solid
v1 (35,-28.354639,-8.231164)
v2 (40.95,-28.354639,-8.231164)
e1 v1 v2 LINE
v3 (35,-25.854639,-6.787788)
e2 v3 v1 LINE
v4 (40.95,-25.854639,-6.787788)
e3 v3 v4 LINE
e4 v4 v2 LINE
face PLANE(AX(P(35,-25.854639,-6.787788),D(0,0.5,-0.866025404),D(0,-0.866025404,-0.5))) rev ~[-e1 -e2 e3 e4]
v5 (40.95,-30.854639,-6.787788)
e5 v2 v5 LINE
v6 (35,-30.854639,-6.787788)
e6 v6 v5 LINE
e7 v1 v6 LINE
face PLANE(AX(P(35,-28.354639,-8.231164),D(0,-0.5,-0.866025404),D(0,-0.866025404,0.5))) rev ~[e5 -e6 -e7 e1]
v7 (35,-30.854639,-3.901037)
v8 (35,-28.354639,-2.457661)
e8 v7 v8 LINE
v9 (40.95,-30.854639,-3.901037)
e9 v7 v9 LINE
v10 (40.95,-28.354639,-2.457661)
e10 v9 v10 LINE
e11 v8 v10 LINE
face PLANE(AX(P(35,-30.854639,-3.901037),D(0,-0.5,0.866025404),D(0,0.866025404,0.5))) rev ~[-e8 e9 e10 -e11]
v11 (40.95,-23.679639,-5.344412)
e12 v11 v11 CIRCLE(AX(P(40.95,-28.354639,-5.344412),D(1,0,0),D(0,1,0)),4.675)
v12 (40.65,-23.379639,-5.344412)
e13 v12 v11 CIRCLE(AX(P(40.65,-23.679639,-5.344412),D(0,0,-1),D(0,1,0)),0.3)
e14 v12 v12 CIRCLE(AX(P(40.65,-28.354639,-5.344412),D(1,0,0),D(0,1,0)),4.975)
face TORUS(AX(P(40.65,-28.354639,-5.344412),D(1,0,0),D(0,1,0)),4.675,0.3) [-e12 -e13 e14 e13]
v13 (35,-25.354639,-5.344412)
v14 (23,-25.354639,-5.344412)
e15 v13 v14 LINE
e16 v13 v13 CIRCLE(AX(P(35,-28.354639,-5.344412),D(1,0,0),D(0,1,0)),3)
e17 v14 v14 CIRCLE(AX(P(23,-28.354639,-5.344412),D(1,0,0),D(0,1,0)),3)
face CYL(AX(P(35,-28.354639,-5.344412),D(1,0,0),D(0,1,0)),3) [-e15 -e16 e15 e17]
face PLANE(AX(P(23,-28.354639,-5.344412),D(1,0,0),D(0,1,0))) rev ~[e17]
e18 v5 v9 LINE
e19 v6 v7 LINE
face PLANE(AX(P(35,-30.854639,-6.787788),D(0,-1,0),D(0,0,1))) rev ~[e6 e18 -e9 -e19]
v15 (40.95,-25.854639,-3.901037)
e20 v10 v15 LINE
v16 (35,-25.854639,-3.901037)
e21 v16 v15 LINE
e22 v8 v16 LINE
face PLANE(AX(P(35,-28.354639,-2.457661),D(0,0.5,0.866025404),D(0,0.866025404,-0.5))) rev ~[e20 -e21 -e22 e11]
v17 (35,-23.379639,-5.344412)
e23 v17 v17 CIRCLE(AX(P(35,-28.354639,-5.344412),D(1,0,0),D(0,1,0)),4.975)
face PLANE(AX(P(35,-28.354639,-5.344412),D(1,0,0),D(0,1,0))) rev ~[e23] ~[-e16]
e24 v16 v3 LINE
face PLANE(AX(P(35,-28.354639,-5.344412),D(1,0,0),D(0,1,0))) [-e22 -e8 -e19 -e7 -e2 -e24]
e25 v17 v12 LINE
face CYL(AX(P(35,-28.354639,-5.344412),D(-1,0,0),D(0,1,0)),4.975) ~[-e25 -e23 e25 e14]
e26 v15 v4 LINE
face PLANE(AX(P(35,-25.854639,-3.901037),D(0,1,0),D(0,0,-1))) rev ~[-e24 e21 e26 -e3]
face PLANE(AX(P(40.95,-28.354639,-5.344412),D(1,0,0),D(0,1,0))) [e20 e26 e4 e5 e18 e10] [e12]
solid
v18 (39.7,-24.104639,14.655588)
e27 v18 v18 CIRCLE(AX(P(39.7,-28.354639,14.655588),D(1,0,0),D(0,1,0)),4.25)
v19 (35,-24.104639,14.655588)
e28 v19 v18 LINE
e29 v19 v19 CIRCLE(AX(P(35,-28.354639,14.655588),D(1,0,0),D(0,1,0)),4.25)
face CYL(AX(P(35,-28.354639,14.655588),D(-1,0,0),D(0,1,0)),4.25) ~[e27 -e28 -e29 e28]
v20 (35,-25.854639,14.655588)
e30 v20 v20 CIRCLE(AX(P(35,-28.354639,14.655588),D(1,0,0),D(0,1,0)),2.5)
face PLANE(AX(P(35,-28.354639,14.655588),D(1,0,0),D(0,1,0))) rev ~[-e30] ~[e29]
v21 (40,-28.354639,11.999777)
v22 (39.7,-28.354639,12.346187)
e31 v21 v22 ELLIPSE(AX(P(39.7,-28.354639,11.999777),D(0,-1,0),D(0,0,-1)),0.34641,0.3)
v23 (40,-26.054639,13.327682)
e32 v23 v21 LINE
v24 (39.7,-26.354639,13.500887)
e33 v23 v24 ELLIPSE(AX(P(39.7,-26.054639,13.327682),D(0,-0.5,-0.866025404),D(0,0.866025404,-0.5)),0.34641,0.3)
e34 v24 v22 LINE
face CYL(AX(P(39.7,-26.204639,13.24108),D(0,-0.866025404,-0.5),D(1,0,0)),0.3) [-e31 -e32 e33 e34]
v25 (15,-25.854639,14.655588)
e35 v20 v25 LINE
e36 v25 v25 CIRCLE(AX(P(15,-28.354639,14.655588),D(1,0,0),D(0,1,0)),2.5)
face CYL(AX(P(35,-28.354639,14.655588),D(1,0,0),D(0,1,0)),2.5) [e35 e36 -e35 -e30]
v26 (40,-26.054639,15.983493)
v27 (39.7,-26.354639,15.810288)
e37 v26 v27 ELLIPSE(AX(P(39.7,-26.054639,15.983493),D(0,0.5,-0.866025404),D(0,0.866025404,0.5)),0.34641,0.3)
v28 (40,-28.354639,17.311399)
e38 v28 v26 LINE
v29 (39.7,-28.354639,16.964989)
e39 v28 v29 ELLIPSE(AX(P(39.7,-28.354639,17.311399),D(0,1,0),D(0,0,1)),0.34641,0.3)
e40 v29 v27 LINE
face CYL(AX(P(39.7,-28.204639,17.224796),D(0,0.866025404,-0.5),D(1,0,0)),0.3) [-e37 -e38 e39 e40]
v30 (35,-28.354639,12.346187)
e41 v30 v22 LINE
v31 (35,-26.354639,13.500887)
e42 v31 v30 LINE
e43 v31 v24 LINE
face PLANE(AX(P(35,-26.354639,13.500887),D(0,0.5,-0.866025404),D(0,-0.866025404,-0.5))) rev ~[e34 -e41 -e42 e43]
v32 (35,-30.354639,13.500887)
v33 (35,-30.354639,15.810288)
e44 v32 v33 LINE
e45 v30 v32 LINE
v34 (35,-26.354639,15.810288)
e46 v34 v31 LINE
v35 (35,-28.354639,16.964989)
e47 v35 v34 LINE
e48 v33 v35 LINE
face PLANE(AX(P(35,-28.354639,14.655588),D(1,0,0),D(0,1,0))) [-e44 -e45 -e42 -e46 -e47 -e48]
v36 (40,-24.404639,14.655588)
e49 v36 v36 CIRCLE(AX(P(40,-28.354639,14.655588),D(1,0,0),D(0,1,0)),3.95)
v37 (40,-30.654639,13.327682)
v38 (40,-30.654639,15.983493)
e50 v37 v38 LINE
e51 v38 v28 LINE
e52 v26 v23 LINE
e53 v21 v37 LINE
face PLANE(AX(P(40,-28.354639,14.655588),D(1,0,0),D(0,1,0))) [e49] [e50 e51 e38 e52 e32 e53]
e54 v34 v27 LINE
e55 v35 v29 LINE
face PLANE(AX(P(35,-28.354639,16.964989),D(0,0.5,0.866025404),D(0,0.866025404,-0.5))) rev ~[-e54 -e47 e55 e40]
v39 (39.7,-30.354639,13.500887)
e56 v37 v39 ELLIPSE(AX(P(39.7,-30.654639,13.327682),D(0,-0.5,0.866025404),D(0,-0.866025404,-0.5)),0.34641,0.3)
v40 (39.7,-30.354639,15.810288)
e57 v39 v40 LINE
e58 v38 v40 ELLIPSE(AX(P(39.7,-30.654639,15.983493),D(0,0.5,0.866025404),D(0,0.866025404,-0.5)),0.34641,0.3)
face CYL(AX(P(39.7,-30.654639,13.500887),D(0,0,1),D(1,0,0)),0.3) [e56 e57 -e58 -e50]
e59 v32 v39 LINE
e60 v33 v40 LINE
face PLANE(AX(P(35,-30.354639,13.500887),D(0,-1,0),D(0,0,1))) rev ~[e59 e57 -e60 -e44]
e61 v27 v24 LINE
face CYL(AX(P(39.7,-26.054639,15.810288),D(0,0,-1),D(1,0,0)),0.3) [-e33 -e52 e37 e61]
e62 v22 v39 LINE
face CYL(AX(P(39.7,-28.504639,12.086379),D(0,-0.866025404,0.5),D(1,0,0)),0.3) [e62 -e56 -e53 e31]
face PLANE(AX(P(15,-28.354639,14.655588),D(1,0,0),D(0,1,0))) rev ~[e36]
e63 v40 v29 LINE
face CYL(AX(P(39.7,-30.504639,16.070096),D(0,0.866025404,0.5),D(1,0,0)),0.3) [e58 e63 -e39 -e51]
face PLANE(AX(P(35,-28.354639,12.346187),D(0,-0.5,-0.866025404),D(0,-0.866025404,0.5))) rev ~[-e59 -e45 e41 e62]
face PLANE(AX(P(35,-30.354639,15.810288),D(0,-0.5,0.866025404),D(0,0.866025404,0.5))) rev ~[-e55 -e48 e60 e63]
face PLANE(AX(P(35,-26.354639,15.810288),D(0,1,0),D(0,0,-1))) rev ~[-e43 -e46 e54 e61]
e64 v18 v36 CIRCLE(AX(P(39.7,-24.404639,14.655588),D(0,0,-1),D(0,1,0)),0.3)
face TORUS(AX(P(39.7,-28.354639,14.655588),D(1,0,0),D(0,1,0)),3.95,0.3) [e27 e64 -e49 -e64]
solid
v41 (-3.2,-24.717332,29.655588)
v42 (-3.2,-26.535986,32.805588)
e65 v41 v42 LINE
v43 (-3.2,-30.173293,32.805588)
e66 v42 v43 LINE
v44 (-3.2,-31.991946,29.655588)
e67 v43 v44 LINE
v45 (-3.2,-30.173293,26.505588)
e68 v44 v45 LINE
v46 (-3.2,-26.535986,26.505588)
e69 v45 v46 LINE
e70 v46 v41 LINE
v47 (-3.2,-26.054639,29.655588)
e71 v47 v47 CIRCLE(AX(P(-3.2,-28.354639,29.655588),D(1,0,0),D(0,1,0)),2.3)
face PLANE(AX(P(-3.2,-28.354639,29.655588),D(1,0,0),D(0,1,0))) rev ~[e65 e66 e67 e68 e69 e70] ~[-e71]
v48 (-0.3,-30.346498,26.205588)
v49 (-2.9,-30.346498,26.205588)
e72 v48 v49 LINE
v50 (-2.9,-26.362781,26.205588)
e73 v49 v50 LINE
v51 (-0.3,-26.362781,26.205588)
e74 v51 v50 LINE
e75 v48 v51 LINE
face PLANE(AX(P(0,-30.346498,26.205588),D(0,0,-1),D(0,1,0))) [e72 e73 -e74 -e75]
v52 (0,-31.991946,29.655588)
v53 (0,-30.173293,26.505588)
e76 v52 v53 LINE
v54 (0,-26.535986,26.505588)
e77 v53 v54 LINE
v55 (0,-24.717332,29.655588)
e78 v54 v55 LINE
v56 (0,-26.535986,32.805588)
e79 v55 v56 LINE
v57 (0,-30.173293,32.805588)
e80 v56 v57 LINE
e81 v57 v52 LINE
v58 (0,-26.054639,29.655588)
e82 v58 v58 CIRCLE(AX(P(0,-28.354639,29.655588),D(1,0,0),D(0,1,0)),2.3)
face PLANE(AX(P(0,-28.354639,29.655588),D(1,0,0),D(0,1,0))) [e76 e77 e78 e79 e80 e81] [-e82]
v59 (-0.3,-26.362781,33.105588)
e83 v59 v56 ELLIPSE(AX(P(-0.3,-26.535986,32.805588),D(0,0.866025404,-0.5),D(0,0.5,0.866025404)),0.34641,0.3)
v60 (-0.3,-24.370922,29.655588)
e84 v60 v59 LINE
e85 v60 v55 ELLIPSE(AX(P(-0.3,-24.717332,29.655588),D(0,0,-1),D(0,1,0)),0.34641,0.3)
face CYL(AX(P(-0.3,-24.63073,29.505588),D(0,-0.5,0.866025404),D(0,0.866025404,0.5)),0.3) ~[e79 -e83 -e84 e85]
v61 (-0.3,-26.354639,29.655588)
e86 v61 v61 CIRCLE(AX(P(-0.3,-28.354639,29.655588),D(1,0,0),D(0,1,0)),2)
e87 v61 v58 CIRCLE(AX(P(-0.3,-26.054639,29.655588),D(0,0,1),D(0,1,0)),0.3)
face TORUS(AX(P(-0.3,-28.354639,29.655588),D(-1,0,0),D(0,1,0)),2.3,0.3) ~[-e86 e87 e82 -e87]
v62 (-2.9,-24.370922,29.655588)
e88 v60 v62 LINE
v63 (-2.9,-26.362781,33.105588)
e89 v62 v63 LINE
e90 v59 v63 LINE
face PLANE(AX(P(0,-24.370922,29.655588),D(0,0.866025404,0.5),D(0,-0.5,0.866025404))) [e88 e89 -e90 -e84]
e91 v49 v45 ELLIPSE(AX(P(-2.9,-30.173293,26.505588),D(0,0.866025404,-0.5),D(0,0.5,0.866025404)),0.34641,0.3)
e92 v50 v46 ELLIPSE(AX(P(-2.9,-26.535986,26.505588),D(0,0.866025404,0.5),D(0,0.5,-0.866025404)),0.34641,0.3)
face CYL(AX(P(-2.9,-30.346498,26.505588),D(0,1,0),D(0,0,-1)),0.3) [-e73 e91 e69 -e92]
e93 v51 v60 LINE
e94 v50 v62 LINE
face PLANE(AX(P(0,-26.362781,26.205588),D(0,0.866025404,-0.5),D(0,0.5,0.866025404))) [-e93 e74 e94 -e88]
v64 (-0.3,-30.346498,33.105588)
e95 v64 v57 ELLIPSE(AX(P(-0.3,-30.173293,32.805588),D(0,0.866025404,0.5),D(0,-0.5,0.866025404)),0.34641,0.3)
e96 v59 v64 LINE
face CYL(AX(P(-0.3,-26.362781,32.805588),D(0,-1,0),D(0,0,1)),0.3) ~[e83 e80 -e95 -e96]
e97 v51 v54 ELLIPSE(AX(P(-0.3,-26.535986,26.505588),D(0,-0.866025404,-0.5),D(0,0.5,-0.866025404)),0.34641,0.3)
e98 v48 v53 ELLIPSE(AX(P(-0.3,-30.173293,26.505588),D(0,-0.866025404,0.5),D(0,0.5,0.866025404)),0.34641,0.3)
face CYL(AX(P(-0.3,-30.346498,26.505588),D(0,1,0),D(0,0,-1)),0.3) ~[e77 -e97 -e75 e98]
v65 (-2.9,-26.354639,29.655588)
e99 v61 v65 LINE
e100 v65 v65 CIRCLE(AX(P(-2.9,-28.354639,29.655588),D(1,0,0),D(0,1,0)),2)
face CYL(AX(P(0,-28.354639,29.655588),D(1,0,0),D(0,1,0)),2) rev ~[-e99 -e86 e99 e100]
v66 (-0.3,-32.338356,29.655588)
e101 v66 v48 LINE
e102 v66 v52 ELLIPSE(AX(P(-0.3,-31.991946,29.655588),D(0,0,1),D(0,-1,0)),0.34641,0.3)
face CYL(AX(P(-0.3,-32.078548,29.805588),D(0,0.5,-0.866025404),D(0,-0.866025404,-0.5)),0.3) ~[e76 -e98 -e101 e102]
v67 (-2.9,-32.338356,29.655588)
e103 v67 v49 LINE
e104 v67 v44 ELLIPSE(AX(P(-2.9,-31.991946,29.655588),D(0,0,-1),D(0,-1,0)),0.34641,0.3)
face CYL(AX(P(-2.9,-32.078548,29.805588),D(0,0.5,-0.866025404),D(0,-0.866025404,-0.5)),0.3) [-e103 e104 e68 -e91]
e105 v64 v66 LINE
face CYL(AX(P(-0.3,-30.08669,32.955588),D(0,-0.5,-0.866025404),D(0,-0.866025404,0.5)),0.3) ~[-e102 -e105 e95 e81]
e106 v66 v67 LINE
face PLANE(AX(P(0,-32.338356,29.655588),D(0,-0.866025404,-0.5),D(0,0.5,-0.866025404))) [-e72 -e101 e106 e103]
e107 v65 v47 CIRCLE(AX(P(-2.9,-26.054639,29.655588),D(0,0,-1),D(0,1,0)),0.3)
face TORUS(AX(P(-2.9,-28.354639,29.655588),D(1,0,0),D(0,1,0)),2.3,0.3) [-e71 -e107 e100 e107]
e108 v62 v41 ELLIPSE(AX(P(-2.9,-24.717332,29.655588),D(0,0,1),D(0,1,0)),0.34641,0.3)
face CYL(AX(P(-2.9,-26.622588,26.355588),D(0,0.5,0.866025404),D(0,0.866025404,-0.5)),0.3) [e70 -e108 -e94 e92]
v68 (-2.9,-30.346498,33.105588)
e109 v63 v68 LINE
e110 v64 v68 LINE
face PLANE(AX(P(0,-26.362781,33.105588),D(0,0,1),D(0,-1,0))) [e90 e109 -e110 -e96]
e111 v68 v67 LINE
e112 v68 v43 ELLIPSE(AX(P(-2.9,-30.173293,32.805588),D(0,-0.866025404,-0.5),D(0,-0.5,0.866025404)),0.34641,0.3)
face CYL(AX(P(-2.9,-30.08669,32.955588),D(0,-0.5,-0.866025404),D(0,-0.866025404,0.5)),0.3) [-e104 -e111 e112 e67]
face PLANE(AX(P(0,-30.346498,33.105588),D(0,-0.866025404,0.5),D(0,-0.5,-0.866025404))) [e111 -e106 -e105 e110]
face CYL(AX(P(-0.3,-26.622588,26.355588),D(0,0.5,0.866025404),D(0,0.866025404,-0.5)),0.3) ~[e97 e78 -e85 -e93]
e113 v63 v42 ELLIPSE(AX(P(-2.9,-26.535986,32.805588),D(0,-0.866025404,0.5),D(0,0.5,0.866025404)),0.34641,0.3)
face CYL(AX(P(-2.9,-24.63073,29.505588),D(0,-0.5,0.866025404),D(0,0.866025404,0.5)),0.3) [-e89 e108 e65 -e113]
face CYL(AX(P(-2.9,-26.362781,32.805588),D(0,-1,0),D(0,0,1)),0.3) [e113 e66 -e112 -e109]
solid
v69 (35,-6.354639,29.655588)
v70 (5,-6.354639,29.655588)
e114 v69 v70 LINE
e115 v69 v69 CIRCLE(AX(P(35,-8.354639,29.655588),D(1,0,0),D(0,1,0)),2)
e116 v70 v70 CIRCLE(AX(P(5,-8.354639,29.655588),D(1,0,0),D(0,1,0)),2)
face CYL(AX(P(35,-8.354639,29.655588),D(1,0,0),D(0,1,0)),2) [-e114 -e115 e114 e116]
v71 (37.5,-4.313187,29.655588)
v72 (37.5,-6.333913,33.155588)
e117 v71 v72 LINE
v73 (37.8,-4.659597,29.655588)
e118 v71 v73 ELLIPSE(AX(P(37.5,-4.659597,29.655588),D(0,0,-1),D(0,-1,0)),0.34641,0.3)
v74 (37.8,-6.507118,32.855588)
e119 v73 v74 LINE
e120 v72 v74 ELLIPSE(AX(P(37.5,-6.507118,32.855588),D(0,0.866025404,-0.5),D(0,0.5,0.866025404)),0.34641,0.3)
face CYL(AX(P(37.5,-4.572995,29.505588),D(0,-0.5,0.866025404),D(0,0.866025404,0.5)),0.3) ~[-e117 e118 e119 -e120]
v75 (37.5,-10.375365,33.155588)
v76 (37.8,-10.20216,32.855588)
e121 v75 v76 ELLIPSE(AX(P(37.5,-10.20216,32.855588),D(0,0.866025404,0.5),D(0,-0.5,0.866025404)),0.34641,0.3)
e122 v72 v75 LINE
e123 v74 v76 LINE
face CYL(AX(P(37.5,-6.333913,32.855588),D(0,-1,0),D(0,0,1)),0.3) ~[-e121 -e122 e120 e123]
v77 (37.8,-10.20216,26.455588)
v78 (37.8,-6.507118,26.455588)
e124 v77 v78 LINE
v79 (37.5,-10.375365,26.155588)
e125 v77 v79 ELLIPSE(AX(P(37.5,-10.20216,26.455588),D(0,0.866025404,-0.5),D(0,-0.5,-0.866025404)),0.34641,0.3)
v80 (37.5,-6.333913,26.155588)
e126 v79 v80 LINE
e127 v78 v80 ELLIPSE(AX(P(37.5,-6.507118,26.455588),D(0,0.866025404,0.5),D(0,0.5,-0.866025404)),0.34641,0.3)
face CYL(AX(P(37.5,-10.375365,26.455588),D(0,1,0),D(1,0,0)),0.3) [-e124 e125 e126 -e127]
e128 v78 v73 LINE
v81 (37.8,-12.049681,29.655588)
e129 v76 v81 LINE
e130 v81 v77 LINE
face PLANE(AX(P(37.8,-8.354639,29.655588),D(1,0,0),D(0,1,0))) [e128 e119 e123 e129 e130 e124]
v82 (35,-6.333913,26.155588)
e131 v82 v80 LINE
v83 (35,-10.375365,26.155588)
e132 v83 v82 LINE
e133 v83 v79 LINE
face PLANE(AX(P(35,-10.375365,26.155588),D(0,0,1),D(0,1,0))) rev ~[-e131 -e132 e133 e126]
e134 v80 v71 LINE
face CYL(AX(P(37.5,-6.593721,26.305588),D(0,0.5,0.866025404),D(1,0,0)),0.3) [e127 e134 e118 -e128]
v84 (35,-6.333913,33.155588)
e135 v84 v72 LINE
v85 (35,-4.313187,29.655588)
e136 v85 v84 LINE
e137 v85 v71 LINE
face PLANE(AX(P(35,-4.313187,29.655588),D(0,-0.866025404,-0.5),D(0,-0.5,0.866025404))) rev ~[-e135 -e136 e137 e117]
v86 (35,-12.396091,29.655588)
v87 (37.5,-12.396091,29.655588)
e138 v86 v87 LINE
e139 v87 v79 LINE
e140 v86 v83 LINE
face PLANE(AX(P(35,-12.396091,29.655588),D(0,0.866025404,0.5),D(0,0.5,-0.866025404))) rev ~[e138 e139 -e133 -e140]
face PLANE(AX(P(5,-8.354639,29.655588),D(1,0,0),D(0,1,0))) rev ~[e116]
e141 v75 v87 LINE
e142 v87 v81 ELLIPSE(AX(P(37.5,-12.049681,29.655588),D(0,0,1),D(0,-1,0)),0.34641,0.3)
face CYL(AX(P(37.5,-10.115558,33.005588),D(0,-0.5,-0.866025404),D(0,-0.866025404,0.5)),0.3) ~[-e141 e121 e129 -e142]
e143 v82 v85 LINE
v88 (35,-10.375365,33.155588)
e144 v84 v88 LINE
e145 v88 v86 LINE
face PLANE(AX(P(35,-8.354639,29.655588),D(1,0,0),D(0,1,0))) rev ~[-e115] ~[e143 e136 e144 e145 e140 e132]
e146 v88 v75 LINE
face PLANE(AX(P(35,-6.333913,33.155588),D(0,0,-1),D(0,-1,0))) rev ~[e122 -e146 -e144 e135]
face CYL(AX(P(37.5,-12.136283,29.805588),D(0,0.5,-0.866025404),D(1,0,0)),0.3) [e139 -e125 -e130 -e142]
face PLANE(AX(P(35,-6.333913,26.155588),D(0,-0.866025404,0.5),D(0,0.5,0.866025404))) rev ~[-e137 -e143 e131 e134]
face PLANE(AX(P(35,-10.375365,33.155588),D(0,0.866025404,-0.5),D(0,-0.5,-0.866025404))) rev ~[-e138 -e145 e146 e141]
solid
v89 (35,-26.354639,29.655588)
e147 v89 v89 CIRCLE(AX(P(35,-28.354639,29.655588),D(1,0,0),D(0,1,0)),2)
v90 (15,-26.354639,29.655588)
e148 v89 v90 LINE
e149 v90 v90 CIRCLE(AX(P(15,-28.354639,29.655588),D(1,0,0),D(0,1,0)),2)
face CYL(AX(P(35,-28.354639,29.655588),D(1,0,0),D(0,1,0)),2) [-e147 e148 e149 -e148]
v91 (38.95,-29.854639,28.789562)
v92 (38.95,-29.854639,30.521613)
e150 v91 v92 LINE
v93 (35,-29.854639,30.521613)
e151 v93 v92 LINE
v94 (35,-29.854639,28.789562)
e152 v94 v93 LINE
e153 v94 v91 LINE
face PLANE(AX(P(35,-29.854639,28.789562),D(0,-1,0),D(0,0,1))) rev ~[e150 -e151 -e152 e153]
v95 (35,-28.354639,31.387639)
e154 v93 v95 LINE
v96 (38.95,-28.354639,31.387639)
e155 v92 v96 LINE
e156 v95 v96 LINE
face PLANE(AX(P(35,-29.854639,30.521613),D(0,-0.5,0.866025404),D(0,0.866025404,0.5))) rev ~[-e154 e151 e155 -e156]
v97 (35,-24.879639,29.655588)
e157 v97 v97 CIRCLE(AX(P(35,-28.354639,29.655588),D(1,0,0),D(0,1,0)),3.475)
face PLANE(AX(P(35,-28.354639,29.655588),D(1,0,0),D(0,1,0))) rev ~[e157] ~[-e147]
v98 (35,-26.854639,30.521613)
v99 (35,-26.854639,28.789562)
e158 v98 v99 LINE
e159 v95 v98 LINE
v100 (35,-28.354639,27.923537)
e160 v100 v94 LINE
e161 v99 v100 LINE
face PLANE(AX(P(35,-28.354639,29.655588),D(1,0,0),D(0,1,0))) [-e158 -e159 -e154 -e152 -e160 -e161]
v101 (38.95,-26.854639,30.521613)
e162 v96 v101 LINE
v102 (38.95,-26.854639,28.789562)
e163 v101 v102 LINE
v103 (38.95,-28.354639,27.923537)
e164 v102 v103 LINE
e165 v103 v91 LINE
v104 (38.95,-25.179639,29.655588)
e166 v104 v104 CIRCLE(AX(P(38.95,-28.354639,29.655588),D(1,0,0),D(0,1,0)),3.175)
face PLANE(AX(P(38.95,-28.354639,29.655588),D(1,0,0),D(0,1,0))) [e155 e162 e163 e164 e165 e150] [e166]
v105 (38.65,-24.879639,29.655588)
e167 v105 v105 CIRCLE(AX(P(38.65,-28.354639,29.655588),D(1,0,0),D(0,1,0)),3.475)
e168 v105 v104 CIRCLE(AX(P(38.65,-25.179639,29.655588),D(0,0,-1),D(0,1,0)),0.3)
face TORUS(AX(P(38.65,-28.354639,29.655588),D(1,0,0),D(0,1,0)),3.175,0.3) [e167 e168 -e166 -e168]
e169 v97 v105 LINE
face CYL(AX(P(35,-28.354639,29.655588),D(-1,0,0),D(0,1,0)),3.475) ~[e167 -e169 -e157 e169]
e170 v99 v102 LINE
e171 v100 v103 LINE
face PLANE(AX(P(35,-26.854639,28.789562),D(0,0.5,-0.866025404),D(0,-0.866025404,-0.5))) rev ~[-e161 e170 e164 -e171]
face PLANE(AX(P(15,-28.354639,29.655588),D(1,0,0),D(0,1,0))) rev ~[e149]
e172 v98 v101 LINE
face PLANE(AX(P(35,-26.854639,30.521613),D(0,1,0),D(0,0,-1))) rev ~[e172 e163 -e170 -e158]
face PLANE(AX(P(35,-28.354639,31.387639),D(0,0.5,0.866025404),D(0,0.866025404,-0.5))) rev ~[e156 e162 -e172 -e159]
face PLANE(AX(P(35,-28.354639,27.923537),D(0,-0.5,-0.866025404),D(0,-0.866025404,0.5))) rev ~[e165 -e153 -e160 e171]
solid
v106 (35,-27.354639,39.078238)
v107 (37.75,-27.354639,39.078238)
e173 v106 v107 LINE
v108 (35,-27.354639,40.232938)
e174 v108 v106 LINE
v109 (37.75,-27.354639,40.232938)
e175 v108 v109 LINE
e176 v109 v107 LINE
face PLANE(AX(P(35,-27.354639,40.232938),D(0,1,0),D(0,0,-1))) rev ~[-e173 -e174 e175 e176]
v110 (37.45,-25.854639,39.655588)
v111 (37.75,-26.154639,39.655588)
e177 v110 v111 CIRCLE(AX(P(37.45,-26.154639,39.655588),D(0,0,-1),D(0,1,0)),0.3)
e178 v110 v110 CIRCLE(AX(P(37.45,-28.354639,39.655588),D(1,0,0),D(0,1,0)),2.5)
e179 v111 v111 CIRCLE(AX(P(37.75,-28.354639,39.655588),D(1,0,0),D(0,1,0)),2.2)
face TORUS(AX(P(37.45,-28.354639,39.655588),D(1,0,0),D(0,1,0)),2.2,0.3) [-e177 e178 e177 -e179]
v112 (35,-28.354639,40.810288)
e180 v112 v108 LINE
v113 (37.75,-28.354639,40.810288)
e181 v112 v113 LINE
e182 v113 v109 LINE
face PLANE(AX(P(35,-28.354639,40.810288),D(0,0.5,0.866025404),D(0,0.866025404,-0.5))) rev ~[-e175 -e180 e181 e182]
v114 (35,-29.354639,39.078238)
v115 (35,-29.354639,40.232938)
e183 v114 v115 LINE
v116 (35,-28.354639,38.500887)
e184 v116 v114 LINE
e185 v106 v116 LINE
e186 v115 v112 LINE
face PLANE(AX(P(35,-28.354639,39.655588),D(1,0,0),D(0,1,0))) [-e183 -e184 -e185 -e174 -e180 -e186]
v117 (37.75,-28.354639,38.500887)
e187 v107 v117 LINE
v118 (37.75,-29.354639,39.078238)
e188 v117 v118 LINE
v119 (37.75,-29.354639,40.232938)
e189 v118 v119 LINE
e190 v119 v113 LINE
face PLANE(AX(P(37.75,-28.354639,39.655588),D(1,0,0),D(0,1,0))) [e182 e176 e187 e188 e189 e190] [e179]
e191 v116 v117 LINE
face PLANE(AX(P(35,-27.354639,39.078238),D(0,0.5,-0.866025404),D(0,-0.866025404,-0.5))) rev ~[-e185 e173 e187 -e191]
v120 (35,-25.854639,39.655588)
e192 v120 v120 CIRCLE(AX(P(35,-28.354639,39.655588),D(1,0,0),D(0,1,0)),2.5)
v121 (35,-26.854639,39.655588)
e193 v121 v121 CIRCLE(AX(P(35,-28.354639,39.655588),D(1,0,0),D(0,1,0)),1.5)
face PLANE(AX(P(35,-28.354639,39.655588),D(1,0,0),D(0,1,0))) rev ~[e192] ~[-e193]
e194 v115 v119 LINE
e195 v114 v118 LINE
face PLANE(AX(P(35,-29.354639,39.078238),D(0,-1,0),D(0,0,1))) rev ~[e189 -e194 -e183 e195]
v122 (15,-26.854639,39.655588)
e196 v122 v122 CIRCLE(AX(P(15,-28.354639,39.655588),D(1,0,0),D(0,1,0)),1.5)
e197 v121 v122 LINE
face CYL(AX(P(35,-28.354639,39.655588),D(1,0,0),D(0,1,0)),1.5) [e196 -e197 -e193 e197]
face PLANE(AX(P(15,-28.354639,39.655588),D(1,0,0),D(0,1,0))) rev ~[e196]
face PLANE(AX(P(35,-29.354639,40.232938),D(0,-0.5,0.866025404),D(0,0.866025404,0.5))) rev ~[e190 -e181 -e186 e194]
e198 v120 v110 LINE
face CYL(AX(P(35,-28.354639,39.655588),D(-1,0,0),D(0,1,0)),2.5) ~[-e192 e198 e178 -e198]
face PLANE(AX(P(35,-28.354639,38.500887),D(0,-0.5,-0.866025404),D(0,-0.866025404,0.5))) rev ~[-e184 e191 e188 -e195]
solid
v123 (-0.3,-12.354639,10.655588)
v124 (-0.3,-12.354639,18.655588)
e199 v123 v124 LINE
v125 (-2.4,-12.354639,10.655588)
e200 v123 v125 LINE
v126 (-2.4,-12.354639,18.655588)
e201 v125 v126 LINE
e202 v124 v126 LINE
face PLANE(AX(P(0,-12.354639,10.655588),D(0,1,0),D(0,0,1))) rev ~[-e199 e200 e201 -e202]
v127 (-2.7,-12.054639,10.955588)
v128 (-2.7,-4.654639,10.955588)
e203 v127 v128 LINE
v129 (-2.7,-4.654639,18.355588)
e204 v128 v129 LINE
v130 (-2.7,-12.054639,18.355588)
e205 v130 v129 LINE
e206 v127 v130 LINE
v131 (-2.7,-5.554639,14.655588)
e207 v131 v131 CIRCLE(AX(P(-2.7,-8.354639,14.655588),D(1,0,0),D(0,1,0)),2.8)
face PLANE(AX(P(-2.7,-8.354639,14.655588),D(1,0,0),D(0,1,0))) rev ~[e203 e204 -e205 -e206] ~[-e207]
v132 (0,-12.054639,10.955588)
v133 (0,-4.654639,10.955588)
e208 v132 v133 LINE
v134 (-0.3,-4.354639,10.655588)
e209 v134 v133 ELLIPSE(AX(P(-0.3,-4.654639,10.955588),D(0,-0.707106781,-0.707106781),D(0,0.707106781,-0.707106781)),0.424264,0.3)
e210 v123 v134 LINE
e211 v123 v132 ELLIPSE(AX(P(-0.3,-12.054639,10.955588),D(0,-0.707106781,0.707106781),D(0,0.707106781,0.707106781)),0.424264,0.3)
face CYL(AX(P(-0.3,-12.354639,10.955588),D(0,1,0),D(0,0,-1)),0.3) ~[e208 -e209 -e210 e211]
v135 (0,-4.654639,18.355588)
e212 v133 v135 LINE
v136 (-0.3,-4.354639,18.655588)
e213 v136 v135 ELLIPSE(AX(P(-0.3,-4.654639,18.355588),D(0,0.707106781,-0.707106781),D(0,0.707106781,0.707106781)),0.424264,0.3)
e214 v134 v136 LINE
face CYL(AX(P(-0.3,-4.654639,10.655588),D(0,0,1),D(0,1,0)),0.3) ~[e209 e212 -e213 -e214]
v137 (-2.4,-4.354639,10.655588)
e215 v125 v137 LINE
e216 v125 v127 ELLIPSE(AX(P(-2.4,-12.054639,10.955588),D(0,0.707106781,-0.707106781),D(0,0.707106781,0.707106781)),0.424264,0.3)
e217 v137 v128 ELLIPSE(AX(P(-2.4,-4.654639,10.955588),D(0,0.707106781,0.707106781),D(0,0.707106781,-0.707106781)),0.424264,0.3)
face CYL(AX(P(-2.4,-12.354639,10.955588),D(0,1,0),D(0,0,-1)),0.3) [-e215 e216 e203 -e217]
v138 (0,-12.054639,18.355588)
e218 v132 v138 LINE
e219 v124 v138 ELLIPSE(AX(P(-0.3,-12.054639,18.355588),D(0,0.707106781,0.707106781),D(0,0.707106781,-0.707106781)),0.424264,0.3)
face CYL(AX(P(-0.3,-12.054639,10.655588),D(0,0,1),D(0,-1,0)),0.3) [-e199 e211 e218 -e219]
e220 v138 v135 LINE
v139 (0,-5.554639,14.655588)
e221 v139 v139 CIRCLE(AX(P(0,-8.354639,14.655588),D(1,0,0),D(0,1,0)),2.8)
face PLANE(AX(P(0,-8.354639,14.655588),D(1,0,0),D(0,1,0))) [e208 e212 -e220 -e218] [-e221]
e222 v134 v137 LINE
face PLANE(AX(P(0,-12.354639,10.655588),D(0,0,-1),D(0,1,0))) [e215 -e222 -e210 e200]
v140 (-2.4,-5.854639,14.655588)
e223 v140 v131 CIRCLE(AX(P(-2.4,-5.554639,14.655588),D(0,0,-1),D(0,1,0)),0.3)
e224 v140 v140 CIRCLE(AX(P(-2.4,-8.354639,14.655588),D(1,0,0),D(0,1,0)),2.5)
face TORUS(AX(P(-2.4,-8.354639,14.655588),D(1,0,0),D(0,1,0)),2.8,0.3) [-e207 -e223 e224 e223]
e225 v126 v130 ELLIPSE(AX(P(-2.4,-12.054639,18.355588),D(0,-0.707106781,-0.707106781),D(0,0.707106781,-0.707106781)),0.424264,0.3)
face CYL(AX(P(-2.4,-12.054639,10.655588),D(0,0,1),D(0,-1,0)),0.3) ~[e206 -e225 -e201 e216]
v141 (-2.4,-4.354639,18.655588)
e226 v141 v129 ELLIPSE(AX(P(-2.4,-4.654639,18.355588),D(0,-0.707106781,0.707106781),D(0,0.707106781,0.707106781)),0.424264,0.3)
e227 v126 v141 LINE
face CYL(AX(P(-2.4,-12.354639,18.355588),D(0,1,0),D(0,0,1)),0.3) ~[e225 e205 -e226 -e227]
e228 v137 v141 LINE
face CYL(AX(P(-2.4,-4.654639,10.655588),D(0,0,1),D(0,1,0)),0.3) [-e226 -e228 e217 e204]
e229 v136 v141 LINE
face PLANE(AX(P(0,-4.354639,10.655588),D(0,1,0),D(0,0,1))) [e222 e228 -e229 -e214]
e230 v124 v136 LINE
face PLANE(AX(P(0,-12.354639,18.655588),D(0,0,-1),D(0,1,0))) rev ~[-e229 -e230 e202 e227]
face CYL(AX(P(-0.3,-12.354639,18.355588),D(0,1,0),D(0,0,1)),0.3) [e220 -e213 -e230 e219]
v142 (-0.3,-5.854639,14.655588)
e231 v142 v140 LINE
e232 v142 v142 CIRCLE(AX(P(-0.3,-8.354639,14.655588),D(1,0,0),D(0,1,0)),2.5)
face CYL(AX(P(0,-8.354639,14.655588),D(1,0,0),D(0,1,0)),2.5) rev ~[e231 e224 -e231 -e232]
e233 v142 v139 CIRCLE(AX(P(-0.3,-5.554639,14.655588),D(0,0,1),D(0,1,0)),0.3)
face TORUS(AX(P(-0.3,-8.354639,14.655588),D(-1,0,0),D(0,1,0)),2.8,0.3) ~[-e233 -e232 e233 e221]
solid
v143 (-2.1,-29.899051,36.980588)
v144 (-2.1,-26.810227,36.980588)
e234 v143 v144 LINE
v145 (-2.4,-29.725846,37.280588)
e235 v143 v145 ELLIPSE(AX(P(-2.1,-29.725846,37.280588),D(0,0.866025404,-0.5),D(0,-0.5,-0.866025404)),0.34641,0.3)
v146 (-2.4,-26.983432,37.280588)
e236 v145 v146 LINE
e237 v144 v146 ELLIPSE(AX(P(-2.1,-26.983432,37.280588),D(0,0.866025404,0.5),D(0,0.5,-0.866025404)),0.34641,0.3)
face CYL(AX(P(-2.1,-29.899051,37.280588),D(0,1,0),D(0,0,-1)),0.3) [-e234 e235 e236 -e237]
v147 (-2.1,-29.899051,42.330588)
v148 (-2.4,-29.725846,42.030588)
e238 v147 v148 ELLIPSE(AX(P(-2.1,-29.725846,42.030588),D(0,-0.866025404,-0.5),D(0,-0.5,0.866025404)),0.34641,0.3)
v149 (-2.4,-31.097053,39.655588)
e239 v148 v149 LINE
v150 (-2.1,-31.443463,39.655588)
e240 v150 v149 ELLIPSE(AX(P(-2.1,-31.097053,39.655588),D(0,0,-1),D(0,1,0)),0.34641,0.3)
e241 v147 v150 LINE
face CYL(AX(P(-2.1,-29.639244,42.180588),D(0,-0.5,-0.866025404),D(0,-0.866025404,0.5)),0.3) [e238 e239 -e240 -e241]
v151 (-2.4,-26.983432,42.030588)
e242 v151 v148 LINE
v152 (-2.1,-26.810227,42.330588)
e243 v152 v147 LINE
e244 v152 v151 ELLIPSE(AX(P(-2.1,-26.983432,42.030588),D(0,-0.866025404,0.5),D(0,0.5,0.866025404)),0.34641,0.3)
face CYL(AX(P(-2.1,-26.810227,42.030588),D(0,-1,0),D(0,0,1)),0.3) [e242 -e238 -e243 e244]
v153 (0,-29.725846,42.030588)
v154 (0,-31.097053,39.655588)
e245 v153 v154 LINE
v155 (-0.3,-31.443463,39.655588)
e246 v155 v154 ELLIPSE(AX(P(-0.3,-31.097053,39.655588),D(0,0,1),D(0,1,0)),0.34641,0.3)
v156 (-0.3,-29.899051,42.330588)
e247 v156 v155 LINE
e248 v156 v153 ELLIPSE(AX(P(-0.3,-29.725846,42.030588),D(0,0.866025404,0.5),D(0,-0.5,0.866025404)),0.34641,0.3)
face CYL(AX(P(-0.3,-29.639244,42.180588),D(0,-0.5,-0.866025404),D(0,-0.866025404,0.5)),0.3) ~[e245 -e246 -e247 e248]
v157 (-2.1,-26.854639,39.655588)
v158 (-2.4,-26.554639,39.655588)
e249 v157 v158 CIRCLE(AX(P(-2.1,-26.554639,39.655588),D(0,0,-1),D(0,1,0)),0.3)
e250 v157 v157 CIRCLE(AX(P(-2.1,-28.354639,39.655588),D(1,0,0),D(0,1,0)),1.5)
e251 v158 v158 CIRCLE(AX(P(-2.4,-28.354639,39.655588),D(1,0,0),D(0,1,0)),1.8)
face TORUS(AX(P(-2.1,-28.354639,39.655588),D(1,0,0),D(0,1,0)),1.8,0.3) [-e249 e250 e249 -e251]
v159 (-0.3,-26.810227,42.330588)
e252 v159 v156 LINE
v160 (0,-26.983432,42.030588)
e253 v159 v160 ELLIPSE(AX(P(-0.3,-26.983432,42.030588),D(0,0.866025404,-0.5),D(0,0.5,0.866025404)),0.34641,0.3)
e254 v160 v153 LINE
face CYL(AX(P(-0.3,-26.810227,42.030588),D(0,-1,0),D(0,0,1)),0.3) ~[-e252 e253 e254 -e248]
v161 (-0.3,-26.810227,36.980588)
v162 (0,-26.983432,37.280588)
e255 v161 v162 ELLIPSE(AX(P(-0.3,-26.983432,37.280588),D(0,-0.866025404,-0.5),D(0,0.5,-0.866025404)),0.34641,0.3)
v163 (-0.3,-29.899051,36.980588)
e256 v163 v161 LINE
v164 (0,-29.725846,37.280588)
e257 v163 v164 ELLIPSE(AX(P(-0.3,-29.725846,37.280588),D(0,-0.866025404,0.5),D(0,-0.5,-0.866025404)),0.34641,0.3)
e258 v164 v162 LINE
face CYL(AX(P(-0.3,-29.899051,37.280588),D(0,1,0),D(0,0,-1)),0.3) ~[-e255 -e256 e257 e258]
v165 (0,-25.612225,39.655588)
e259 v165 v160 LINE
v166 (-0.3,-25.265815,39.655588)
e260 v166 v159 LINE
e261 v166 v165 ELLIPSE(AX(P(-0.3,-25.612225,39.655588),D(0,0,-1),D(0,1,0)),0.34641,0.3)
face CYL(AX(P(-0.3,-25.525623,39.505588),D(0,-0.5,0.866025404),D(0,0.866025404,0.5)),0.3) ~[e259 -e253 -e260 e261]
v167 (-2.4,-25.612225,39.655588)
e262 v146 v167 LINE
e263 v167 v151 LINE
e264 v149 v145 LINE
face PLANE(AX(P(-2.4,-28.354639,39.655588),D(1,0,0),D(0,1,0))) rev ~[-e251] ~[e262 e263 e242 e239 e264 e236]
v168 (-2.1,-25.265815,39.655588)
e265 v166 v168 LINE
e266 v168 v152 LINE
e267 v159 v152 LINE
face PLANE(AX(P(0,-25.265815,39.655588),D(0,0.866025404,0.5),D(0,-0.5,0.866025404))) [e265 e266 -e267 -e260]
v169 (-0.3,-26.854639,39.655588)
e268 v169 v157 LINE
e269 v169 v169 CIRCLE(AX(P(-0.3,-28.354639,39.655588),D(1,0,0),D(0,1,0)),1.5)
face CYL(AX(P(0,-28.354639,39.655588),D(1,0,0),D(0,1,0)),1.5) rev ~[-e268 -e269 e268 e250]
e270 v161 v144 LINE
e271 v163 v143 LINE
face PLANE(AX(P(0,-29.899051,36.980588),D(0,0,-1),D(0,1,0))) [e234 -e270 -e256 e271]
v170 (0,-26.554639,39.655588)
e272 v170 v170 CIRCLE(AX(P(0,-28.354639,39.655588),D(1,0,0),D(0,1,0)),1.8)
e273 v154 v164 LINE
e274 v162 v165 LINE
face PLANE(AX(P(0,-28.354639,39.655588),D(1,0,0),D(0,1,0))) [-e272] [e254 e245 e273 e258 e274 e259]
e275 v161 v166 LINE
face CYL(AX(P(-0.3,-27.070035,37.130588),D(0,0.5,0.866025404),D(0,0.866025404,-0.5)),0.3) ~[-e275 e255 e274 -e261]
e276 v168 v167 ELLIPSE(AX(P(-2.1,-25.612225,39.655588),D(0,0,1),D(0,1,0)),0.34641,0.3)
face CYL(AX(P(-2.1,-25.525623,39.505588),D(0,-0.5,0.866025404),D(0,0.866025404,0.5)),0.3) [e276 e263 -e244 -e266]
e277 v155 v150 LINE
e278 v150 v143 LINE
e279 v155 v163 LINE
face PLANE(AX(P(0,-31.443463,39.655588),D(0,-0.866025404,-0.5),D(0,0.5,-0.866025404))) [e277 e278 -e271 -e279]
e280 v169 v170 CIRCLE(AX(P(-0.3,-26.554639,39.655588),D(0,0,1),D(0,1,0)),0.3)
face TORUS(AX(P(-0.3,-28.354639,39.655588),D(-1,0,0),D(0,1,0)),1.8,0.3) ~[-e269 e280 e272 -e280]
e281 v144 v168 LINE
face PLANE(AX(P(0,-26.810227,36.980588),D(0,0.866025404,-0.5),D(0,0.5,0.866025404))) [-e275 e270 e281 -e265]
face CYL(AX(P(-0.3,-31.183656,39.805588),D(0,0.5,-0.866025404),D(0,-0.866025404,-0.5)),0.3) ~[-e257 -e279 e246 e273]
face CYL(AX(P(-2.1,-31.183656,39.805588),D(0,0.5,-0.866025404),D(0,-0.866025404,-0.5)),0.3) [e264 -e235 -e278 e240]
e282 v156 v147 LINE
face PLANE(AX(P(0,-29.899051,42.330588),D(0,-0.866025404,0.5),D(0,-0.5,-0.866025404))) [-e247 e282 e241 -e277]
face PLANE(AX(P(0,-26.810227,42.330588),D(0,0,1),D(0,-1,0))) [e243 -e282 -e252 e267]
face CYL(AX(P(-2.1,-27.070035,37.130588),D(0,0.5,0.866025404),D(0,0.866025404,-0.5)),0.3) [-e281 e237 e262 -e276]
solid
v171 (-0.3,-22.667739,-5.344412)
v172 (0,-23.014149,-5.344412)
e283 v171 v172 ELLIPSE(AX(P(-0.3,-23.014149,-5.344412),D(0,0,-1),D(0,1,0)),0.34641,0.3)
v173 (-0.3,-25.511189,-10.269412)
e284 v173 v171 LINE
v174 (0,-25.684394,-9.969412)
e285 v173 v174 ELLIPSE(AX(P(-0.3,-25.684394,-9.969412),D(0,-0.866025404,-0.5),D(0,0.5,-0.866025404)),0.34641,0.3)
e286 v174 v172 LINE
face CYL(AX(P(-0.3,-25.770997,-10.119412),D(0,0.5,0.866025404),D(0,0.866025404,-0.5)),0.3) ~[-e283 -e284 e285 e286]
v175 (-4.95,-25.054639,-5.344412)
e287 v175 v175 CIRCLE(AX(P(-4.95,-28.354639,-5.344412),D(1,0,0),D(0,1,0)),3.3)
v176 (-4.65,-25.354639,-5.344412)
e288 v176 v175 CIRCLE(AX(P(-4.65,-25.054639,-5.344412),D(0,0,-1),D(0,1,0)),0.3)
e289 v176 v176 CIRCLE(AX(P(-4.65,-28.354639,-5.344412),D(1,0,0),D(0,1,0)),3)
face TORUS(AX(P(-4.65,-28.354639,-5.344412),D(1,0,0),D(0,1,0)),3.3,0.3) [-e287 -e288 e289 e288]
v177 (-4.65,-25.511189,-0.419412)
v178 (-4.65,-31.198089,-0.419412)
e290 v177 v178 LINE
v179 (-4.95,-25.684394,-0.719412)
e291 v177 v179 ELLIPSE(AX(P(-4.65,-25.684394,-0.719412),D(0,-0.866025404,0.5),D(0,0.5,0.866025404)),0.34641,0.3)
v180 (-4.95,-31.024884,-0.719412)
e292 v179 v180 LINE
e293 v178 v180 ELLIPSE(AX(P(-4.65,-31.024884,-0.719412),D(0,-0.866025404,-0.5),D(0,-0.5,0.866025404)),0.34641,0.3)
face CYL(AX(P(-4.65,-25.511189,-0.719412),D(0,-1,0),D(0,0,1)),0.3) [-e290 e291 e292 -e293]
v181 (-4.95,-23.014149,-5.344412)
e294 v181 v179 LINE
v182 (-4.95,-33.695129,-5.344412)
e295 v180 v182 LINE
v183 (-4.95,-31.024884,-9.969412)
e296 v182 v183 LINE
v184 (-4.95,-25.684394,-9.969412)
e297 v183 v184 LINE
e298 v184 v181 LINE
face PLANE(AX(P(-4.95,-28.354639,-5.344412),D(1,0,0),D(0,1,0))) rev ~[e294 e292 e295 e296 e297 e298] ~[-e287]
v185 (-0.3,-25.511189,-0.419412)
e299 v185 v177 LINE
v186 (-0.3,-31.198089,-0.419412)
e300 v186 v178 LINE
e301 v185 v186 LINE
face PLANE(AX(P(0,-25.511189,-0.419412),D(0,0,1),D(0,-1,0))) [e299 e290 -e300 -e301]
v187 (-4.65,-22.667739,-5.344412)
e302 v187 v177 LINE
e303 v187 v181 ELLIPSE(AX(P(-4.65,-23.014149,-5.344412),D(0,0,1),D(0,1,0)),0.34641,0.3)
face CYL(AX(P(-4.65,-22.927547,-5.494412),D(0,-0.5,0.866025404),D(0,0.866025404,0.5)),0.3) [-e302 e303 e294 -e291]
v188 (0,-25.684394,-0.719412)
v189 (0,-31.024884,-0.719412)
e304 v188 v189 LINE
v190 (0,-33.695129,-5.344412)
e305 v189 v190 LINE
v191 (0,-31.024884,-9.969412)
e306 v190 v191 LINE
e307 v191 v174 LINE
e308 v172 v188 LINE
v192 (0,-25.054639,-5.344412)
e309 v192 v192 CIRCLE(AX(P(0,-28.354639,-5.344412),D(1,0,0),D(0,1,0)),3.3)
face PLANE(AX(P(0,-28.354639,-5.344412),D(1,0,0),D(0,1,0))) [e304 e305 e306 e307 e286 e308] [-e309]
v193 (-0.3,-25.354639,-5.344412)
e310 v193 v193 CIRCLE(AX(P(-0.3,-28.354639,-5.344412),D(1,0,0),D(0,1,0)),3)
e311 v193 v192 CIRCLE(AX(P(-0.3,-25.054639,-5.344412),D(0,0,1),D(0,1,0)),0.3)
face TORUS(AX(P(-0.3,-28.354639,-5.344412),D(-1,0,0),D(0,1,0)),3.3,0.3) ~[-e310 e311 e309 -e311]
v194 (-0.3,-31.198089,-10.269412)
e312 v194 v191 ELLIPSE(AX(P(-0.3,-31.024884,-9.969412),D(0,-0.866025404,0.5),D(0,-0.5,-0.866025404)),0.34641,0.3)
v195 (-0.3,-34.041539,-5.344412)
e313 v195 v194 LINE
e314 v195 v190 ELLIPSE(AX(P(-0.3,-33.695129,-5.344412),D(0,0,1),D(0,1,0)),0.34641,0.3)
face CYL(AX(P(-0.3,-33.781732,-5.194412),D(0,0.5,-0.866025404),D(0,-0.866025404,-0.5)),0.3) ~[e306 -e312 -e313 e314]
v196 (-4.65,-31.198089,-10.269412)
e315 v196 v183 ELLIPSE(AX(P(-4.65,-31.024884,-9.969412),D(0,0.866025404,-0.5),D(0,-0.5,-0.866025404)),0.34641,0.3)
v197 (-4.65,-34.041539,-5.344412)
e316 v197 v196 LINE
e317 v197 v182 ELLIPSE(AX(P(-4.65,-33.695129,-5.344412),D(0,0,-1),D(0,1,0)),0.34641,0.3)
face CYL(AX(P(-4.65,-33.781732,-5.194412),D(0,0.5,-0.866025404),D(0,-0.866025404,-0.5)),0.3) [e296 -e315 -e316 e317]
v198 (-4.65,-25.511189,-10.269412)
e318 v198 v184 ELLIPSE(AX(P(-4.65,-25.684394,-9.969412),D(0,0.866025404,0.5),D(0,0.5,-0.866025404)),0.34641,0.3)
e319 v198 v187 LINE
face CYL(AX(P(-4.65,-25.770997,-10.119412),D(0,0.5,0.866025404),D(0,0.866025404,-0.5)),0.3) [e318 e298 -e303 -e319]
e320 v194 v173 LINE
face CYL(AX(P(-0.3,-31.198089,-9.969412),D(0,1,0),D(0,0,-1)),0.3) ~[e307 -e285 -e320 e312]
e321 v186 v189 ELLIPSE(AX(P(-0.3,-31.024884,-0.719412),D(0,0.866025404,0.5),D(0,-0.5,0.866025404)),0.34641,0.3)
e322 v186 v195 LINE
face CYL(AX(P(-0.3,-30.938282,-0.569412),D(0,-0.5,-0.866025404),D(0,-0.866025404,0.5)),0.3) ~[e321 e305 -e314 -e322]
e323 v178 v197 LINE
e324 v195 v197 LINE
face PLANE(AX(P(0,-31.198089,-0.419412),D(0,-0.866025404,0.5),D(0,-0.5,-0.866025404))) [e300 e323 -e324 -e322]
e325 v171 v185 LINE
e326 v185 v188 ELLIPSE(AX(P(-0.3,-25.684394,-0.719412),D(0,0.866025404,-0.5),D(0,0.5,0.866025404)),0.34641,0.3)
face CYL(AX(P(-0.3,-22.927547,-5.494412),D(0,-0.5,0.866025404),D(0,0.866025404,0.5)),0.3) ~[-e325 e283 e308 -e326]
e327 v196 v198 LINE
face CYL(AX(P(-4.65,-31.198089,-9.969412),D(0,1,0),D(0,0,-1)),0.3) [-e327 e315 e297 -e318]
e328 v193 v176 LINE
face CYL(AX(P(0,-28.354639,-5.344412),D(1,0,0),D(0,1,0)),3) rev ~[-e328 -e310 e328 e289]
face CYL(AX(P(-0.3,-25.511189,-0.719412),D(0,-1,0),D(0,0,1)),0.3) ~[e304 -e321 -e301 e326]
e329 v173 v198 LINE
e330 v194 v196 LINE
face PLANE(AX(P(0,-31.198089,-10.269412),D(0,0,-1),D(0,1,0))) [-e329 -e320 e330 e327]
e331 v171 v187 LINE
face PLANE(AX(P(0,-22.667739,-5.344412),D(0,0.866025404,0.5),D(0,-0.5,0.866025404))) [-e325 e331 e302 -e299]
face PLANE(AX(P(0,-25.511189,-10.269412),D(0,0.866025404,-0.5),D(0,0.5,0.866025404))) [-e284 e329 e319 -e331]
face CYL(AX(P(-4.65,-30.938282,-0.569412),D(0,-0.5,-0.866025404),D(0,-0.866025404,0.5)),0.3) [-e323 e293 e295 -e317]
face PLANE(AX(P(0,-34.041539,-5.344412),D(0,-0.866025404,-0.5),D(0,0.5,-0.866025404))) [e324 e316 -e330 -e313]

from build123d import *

# Parameters (mm, degrees)
F0_R      = 1.5
F1_DEPTH  = 2.4
F0_R_2    = 2
F2_DEPTH  = 3.2
F0_R_3    = 3
F3_DEPTH  = 4.95
F0_W      = 8
F0_H      = 8
F0_R_4    = 2.5
F4_DEPTH  = 2.7
F6_R      = 1.5
F7_DEPTH  = 20
F6_R_2    = 2
F8_DEPTH  = 20
F6_R_3    = 3
F9_DEPTH  = 12
F6_R_4    = 2.5
F10_DEPTH = 2.75
F6_R_5    = 3.475
F11_DEPTH = 3.95
F6_R_6    = 4.975
F12_DEPTH = 5.95
F13_DEPTH = 2.8
F14_DEPTH = 30
F6_R_7    = 4.25
F15_DEPTH = 5
F16_DEPTH = 20
F17_R     = 0.3
F17_2_R   = 0.3
F17_3_R   = 0.3
F17_4_R   = 0.3
F17_5_R   = 0.3
F17_6_R   = 0.3
F17_7_R   = 0.3
F17_8_R   = 0.3
F17_9_R   = 0.3


with BuildPart() as f1:
    # F0 (on Right) → F1 (new body)
    with BuildSketch(Plane.YZ):
        Polygon((-29.8990511575, 36.9805877914), (-26.8102272174, 36.9805877914), (-25.2658152473, 39.6555877914), (-26.8102272174, 42.3305877914), (-29.8990511575, 42.3305877914), (-31.4434631276, 39.6555877914), align=None)
        with Locations((-28.3546391875, 39.6555877914)):
            Circle(F0_R, mode=Mode.SUBTRACT)
    extrude(amount=-F1_DEPTH)

    # F17#5
    f17_5_edges = [f1.edges().sort_by_distance(p)[0] for p in [
        (0, -30.671257, 38.318088),
        (0, -28.354639, 36.980588),
        (0, -26.038021, 38.318088),
        (0, -26.038021, 40.993088),
        (0, -28.354639, 42.330588),
        (0, -30.671257, 40.993088),
        (0, -29.854639, 39.655588),
        (-2.4, -30.671257, 38.318088),
        (-2.4, -28.354639, 36.980588),
        (-2.4, -26.038021, 38.318088),
        (-2.4, -26.038021, 40.993088),
        (-2.4, -28.354639, 42.330588),
        (-2.4, -30.671257, 40.993088),
        (-2.4, -29.854639, 39.655588),
    ]]
    fillet(f17_5_edges, radius=F17_5_R)


with BuildPart() as f2:
    # F0 (on Right) → F2 (new body)
    with BuildSketch(Plane.YZ):
        Polygon((-30.3464976162, 26.2055877914), (-26.3627807588, 26.2055877914), (-24.37092233, 29.6555877914), (-26.3627807588, 33.1055877914), (-30.3464976162, 33.1055877914), (-32.3383560449, 29.6555877914), align=None)
        with Locations((-28.3546391875, 29.6555877914)):
            Circle(F0_R_2, mode=Mode.SUBTRACT)
    extrude(amount=-F2_DEPTH)

    # F17#6
    f17_6_edges = [f2.edges().sort_by_distance(p)[0] for p in [
        (-3.2, -28.354639, 26.205588),
        (-3.2, -25.366852, 27.930588),
        (-3.2, -25.366852, 31.380588),
        (-3.2, -28.354639, 33.105588),
        (-3.2, -31.342427, 31.380588),
        (-3.2, -31.342427, 27.930588),
        (-3.2, -30.354639, 29.655588),
        (0, -28.354639, 26.205588),
        (0, -25.366852, 27.930588),
        (0, -25.366852, 31.380588),
        (0, -28.354639, 33.105588),
        (0, -31.342427, 31.380588),
        (0, -31.342427, 27.930588),
        (0, -30.354639, 29.655588),
    ]]
    fillet(f17_6_edges, radius=F17_6_R)


with BuildPart() as f3:
    # F0 (on Right) → F3 (new body)
    with BuildSketch(Plane.YZ):
        Polygon((-31.1980892632, -10.2694122086), (-25.5111891117, -10.2694122086), (-22.6677390359, -5.3444122086), (-25.5111891117, -0.4194122086), (-31.1980892632, -0.4194122086), (-34.041539339, -5.3444122086), align=None)
        with Locations((-28.3546391875, -5.3444122086)):
            Circle(F0_R_3, mode=Mode.SUBTRACT)
    extrude(amount=-F3_DEPTH)

    # F17#7
    f17_7_edges = [f3.edges().sort_by_distance(p)[0] for p in [
        (-4.95, -32.619814, -7.806912),
        (-4.95, -28.354639, -10.269412),
        (-4.95, -24.089464, -7.806912),
        (-4.95, -24.089464, -2.881912),
        (-4.95, -28.354639, -0.419412),
        (-4.95, -32.619814, -2.881912),
        (-4.95, -31.354639, -5.344412),
        (0, -32.619814, -7.806912),
        (0, -28.354639, -10.269412),
        (0, -24.089464, -7.806912),
        (0, -24.089464, -2.881912),
        (0, -28.354639, -0.419412),
        (0, -32.619814, -2.881912),
        (0, -31.354639, -5.344412),
    ]]
    fillet(f17_7_edges, radius=F17_7_R)


with BuildPart() as f4:
    # F0 (on Right) → F4 (new body)
    with BuildSketch(Plane.YZ):
        with Locations((-8.3546391875, 14.6555877914)):
            Rectangle(F0_W, F0_H)
        with Locations((-8.3546391875, 14.6555877914)):
            Circle(F0_R_4, mode=Mode.SUBTRACT)
    extrude(amount=-F4_DEPTH)

    # F17#8
    f17_8_edges = [f4.edges().sort_by_distance(p)[0] for p in [
        (0, -8.354639, 10.655588),
        (0, -4.354639, 14.655588),
        (0, -8.354639, 18.655588),
        (0, -12.354639, 14.655588),
        (0, -10.854639, 14.655588),
        (-2.7, -8.354639, 10.655588),
        (-2.7, -4.354639, 14.655588),
        (-2.7, -8.354639, 18.655588),
        (-2.7, -12.354639, 14.655588),
        (-2.7, -10.854639, 14.655588),
    ]]
    fillet(f17_8_edges, radius=F17_8_R)


with BuildPart() as f7:
    # F6 (on offset) → F7 (new body)
    with BuildSketch(Plane.YZ.offset(35)):
        with Locations((-28.3546391875, 39.6555877914)):
            Circle(F6_R)
        Polygon((-28.3546391875, 40.8102883298), (-27.3546391875, 40.2329380606), (-27.3546391875, 39.0782375223), (-28.3546391875, 38.5008872531), (-29.3546391875, 39.0782375223), (-29.3546391875, 40.2329380606), align=None, mode=Mode.SUBTRACT)
        Polygon((-27.3546391875, 39.0782375223), (-27.3546391875, 40.2329380606), (-28.3546391875, 40.8102883298), (-29.3546391875, 40.2329380606), (-29.3546391875, 39.0782375223), (-28.3546391875, 38.5008872531), align=None)
    extrude(amount=-F7_DEPTH)

    # F6 (on offset) → F10 (join)
    with BuildSketch(Plane.YZ.offset(35)):
        with Locations((-28.3546391875, 39.6555877914)):
            Circle(F6_R_4)
        with Locations((-28.3546391875, 39.6555877914)):
            Circle(F6_R, mode=Mode.SUBTRACT)
        with Locations((-28.3546391875, 39.6555877914)):
            Circle(F6_R)
        Polygon((-28.3546391875, 40.8102883298), (-27.3546391875, 40.2329380606), (-27.3546391875, 39.0782375223), (-28.3546391875, 38.5008872531), (-29.3546391875, 39.0782375223), (-29.3546391875, 40.2329380606), align=None, mode=Mode.SUBTRACT)
    extrude(amount=F10_DEPTH)

    # F17#4
    f17_4_edges = [f7.edges().sort_by_distance(p)[0] for p in [
        (37.75, -30.854639, 39.655588),
    ]]
    fillet(f17_4_edges, radius=F17_4_R)


with BuildPart() as f8:
    # F6 (on offset) → F8 (new body)
    with BuildSketch(Plane.YZ.offset(35)):
        with Locations((-28.3546391875, 29.6555877914)):
            Circle(F6_R_2)
        Polygon((-28.3546391875, 31.387638599), (-26.8546391875, 30.5216131952), (-26.8546391875, 28.7895623877), (-28.3546391875, 27.9235369839), (-29.8546391875, 28.7895623877), (-29.8546391875, 30.5216131952), align=None, mode=Mode.SUBTRACT)
        Polygon((-26.8546391875, 28.7895623877), (-26.8546391875, 30.5216131952), (-28.3546391875, 31.387638599), (-29.8546391875, 30.5216131952), (-29.8546391875, 28.7895623877), (-28.3546391875, 27.9235369839), align=None)
    extrude(amount=-F8_DEPTH)

    # F6 (on offset) → F11 (join)
    with BuildSketch(Plane.YZ.offset(35)):
        with Locations((-28.3546391875, 29.6555877914)):
            Circle(F6_R_5)
        with Locations((-28.3546391875, 29.6555877914)):
            Circle(F6_R_2, mode=Mode.SUBTRACT)
        with Locations((-28.3546391875, 29.6555877914)):
            Circle(F6_R_2)
        Polygon((-28.3546391875, 31.387638599), (-26.8546391875, 30.5216131952), (-26.8546391875, 28.7895623877), (-28.3546391875, 27.9235369839), (-29.8546391875, 28.7895623877), (-29.8546391875, 30.5216131952), align=None, mode=Mode.SUBTRACT)
    extrude(amount=F11_DEPTH)

    # F17#3
    f17_3_edges = [f8.edges().sort_by_distance(p)[0] for p in [
        (38.95, -31.829639, 29.655588),
    ]]
    fillet(f17_3_edges, radius=F17_3_R)


with BuildPart() as f9:
    # F6 (on offset) → F9 (new body)
    with BuildSketch(Plane.YZ.offset(35)):
        with Locations((-28.3546391875, -5.3444122086)):
            Circle(F6_R_3)
        Polygon((-28.3546391875, -2.4576608626), (-25.8546391875, -3.9010365356), (-25.8546391875, -6.7877878815), (-28.3546391875, -8.2311635545), (-30.8546391875, -6.7877878815), (-30.8546391875, -3.9010365356), align=None, mode=Mode.SUBTRACT)
        Polygon((-25.8546391875, -6.7877878815), (-25.8546391875, -3.9010365356), (-28.3546391875, -2.4576608626), (-30.8546391875, -3.9010365356), (-30.8546391875, -6.7877878815), (-28.3546391875, -8.2311635545), align=None)
    extrude(amount=-F9_DEPTH)

    # F6 (on offset) → F12 (join)
    with BuildSketch(Plane.YZ.offset(35)):
        with Locations((-28.3546391875, -5.3444122086)):
            Circle(F6_R_6)
        with Locations((-28.3546391875, -5.3444122086)):
            Circle(F6_R_3, mode=Mode.SUBTRACT)
        with Locations((-28.3546391875, -5.3444122086)):
            Circle(F6_R_3)
        Polygon((-28.3546391875, -2.4576608626), (-25.8546391875, -3.9010365356), (-25.8546391875, -6.7877878815), (-28.3546391875, -8.2311635545), (-30.8546391875, -6.7877878815), (-30.8546391875, -3.9010365356), align=None, mode=Mode.SUBTRACT)
    extrude(amount=F12_DEPTH)

    # F17
    f17_edges = [f9.edges().sort_by_distance(p)[0] for p in [
        (40.95, -33.329639, -5.344412),
    ]]
    fillet(f17_edges, radius=F17_R)


with BuildPart() as f13:
    # F6 (on offset) → F13 (new body)
    with BuildSketch(Plane.YZ.offset(35)):
        Polygon((-6.3339132453, 33.1555877914), (-10.3753651296, 33.1555877914), (-12.3960910718, 29.6555877914), (-10.3753651296, 26.1555877914), (-6.3339132453, 26.1555877914), (-4.3131873031, 29.6555877914), align=None)
        with Locations((-8.3546391875, 29.6555877914)):
            Circle(F6_R_2, mode=Mode.SUBTRACT)
        with Locations((-8.3546391875, 29.6555877914)):
            Circle(F6_R_2)
    extrude(amount=F13_DEPTH)

    # F6 (on offset) → F14 (join)
    with BuildSketch(Plane.YZ.offset(35)):
        with Locations((-8.3546391875, 29.6555877914)):
            Circle(F6_R_2)
    extrude(amount=-F14_DEPTH)

    # F17#2
    f17_2_edges = [f13.edges().sort_by_distance(p)[0] for p in [
        (37.8, -5.32355, 31.405588),
        (37.8, -8.354639, 33.155588),
        (37.8, -11.385728, 31.405588),
        (37.8, -11.385728, 27.905588),
        (37.8, -8.354639, 26.155588),
        (37.8, -5.32355, 27.905588),
    ]]
    fillet(f17_2_edges, radius=F17_2_R)


with BuildPart() as f15:
    # F6 (on offset) → F15 (new body)
    with BuildSketch(Plane.YZ.offset(35)):
        with Locations((-28.3546391875, 14.6555877914)):
            Circle(F6_R_7)
        with Locations((-28.3546391875, 14.6555877914)):
            Circle(F6_R_4, mode=Mode.SUBTRACT)
        with Locations((-28.3546391875, 14.6555877914)):
            Circle(F6_R_4)
        Polygon((-28.3546391875, 16.9649888682), (-26.3546391875, 15.8102883298), (-26.3546391875, 13.5008872531), (-28.3546391875, 12.3461867147), (-30.3546391875, 13.5008872531), (-30.3546391875, 15.8102883298), align=None, mode=Mode.SUBTRACT)
    extrude(amount=F15_DEPTH)

    # F6 (on offset) → F16 (join)
    with BuildSketch(Plane.YZ.offset(35)):
        with Locations((-28.3546391875, 14.6555877914)):
            Circle(F6_R_4)
        Polygon((-28.3546391875, 16.9649888682), (-26.3546391875, 15.8102883298), (-26.3546391875, 13.5008872531), (-28.3546391875, 12.3461867147), (-30.3546391875, 13.5008872531), (-30.3546391875, 15.8102883298), align=None, mode=Mode.SUBTRACT)
        Polygon((-26.3546391875, 13.5008872531), (-26.3546391875, 15.8102883298), (-28.3546391875, 16.9649888682), (-30.3546391875, 15.8102883298), (-30.3546391875, 13.5008872531), (-28.3546391875, 12.3461867147), align=None)
    extrude(amount=-F16_DEPTH)

    # F17#9
    f17_9_edges = [f15.edges().sort_by_distance(p)[0] for p in [
        (40, -32.604639, 14.655588),
        (40, -29.354639, 16.387639),
        (40, -27.354639, 16.387639),
        (40, -26.354639, 14.655588),
        (40, -27.354639, 12.923537),
        (40, -29.354639, 12.923537),
        (40, -30.354639, 14.655588),
    ]]
    fillet(f17_9_edges, radius=F17_9_R)


solid = Compound([f1.part, f2.part, f3.part, f4.part, f7.part, f8.part, f9.part, f13.part, f15.part])
